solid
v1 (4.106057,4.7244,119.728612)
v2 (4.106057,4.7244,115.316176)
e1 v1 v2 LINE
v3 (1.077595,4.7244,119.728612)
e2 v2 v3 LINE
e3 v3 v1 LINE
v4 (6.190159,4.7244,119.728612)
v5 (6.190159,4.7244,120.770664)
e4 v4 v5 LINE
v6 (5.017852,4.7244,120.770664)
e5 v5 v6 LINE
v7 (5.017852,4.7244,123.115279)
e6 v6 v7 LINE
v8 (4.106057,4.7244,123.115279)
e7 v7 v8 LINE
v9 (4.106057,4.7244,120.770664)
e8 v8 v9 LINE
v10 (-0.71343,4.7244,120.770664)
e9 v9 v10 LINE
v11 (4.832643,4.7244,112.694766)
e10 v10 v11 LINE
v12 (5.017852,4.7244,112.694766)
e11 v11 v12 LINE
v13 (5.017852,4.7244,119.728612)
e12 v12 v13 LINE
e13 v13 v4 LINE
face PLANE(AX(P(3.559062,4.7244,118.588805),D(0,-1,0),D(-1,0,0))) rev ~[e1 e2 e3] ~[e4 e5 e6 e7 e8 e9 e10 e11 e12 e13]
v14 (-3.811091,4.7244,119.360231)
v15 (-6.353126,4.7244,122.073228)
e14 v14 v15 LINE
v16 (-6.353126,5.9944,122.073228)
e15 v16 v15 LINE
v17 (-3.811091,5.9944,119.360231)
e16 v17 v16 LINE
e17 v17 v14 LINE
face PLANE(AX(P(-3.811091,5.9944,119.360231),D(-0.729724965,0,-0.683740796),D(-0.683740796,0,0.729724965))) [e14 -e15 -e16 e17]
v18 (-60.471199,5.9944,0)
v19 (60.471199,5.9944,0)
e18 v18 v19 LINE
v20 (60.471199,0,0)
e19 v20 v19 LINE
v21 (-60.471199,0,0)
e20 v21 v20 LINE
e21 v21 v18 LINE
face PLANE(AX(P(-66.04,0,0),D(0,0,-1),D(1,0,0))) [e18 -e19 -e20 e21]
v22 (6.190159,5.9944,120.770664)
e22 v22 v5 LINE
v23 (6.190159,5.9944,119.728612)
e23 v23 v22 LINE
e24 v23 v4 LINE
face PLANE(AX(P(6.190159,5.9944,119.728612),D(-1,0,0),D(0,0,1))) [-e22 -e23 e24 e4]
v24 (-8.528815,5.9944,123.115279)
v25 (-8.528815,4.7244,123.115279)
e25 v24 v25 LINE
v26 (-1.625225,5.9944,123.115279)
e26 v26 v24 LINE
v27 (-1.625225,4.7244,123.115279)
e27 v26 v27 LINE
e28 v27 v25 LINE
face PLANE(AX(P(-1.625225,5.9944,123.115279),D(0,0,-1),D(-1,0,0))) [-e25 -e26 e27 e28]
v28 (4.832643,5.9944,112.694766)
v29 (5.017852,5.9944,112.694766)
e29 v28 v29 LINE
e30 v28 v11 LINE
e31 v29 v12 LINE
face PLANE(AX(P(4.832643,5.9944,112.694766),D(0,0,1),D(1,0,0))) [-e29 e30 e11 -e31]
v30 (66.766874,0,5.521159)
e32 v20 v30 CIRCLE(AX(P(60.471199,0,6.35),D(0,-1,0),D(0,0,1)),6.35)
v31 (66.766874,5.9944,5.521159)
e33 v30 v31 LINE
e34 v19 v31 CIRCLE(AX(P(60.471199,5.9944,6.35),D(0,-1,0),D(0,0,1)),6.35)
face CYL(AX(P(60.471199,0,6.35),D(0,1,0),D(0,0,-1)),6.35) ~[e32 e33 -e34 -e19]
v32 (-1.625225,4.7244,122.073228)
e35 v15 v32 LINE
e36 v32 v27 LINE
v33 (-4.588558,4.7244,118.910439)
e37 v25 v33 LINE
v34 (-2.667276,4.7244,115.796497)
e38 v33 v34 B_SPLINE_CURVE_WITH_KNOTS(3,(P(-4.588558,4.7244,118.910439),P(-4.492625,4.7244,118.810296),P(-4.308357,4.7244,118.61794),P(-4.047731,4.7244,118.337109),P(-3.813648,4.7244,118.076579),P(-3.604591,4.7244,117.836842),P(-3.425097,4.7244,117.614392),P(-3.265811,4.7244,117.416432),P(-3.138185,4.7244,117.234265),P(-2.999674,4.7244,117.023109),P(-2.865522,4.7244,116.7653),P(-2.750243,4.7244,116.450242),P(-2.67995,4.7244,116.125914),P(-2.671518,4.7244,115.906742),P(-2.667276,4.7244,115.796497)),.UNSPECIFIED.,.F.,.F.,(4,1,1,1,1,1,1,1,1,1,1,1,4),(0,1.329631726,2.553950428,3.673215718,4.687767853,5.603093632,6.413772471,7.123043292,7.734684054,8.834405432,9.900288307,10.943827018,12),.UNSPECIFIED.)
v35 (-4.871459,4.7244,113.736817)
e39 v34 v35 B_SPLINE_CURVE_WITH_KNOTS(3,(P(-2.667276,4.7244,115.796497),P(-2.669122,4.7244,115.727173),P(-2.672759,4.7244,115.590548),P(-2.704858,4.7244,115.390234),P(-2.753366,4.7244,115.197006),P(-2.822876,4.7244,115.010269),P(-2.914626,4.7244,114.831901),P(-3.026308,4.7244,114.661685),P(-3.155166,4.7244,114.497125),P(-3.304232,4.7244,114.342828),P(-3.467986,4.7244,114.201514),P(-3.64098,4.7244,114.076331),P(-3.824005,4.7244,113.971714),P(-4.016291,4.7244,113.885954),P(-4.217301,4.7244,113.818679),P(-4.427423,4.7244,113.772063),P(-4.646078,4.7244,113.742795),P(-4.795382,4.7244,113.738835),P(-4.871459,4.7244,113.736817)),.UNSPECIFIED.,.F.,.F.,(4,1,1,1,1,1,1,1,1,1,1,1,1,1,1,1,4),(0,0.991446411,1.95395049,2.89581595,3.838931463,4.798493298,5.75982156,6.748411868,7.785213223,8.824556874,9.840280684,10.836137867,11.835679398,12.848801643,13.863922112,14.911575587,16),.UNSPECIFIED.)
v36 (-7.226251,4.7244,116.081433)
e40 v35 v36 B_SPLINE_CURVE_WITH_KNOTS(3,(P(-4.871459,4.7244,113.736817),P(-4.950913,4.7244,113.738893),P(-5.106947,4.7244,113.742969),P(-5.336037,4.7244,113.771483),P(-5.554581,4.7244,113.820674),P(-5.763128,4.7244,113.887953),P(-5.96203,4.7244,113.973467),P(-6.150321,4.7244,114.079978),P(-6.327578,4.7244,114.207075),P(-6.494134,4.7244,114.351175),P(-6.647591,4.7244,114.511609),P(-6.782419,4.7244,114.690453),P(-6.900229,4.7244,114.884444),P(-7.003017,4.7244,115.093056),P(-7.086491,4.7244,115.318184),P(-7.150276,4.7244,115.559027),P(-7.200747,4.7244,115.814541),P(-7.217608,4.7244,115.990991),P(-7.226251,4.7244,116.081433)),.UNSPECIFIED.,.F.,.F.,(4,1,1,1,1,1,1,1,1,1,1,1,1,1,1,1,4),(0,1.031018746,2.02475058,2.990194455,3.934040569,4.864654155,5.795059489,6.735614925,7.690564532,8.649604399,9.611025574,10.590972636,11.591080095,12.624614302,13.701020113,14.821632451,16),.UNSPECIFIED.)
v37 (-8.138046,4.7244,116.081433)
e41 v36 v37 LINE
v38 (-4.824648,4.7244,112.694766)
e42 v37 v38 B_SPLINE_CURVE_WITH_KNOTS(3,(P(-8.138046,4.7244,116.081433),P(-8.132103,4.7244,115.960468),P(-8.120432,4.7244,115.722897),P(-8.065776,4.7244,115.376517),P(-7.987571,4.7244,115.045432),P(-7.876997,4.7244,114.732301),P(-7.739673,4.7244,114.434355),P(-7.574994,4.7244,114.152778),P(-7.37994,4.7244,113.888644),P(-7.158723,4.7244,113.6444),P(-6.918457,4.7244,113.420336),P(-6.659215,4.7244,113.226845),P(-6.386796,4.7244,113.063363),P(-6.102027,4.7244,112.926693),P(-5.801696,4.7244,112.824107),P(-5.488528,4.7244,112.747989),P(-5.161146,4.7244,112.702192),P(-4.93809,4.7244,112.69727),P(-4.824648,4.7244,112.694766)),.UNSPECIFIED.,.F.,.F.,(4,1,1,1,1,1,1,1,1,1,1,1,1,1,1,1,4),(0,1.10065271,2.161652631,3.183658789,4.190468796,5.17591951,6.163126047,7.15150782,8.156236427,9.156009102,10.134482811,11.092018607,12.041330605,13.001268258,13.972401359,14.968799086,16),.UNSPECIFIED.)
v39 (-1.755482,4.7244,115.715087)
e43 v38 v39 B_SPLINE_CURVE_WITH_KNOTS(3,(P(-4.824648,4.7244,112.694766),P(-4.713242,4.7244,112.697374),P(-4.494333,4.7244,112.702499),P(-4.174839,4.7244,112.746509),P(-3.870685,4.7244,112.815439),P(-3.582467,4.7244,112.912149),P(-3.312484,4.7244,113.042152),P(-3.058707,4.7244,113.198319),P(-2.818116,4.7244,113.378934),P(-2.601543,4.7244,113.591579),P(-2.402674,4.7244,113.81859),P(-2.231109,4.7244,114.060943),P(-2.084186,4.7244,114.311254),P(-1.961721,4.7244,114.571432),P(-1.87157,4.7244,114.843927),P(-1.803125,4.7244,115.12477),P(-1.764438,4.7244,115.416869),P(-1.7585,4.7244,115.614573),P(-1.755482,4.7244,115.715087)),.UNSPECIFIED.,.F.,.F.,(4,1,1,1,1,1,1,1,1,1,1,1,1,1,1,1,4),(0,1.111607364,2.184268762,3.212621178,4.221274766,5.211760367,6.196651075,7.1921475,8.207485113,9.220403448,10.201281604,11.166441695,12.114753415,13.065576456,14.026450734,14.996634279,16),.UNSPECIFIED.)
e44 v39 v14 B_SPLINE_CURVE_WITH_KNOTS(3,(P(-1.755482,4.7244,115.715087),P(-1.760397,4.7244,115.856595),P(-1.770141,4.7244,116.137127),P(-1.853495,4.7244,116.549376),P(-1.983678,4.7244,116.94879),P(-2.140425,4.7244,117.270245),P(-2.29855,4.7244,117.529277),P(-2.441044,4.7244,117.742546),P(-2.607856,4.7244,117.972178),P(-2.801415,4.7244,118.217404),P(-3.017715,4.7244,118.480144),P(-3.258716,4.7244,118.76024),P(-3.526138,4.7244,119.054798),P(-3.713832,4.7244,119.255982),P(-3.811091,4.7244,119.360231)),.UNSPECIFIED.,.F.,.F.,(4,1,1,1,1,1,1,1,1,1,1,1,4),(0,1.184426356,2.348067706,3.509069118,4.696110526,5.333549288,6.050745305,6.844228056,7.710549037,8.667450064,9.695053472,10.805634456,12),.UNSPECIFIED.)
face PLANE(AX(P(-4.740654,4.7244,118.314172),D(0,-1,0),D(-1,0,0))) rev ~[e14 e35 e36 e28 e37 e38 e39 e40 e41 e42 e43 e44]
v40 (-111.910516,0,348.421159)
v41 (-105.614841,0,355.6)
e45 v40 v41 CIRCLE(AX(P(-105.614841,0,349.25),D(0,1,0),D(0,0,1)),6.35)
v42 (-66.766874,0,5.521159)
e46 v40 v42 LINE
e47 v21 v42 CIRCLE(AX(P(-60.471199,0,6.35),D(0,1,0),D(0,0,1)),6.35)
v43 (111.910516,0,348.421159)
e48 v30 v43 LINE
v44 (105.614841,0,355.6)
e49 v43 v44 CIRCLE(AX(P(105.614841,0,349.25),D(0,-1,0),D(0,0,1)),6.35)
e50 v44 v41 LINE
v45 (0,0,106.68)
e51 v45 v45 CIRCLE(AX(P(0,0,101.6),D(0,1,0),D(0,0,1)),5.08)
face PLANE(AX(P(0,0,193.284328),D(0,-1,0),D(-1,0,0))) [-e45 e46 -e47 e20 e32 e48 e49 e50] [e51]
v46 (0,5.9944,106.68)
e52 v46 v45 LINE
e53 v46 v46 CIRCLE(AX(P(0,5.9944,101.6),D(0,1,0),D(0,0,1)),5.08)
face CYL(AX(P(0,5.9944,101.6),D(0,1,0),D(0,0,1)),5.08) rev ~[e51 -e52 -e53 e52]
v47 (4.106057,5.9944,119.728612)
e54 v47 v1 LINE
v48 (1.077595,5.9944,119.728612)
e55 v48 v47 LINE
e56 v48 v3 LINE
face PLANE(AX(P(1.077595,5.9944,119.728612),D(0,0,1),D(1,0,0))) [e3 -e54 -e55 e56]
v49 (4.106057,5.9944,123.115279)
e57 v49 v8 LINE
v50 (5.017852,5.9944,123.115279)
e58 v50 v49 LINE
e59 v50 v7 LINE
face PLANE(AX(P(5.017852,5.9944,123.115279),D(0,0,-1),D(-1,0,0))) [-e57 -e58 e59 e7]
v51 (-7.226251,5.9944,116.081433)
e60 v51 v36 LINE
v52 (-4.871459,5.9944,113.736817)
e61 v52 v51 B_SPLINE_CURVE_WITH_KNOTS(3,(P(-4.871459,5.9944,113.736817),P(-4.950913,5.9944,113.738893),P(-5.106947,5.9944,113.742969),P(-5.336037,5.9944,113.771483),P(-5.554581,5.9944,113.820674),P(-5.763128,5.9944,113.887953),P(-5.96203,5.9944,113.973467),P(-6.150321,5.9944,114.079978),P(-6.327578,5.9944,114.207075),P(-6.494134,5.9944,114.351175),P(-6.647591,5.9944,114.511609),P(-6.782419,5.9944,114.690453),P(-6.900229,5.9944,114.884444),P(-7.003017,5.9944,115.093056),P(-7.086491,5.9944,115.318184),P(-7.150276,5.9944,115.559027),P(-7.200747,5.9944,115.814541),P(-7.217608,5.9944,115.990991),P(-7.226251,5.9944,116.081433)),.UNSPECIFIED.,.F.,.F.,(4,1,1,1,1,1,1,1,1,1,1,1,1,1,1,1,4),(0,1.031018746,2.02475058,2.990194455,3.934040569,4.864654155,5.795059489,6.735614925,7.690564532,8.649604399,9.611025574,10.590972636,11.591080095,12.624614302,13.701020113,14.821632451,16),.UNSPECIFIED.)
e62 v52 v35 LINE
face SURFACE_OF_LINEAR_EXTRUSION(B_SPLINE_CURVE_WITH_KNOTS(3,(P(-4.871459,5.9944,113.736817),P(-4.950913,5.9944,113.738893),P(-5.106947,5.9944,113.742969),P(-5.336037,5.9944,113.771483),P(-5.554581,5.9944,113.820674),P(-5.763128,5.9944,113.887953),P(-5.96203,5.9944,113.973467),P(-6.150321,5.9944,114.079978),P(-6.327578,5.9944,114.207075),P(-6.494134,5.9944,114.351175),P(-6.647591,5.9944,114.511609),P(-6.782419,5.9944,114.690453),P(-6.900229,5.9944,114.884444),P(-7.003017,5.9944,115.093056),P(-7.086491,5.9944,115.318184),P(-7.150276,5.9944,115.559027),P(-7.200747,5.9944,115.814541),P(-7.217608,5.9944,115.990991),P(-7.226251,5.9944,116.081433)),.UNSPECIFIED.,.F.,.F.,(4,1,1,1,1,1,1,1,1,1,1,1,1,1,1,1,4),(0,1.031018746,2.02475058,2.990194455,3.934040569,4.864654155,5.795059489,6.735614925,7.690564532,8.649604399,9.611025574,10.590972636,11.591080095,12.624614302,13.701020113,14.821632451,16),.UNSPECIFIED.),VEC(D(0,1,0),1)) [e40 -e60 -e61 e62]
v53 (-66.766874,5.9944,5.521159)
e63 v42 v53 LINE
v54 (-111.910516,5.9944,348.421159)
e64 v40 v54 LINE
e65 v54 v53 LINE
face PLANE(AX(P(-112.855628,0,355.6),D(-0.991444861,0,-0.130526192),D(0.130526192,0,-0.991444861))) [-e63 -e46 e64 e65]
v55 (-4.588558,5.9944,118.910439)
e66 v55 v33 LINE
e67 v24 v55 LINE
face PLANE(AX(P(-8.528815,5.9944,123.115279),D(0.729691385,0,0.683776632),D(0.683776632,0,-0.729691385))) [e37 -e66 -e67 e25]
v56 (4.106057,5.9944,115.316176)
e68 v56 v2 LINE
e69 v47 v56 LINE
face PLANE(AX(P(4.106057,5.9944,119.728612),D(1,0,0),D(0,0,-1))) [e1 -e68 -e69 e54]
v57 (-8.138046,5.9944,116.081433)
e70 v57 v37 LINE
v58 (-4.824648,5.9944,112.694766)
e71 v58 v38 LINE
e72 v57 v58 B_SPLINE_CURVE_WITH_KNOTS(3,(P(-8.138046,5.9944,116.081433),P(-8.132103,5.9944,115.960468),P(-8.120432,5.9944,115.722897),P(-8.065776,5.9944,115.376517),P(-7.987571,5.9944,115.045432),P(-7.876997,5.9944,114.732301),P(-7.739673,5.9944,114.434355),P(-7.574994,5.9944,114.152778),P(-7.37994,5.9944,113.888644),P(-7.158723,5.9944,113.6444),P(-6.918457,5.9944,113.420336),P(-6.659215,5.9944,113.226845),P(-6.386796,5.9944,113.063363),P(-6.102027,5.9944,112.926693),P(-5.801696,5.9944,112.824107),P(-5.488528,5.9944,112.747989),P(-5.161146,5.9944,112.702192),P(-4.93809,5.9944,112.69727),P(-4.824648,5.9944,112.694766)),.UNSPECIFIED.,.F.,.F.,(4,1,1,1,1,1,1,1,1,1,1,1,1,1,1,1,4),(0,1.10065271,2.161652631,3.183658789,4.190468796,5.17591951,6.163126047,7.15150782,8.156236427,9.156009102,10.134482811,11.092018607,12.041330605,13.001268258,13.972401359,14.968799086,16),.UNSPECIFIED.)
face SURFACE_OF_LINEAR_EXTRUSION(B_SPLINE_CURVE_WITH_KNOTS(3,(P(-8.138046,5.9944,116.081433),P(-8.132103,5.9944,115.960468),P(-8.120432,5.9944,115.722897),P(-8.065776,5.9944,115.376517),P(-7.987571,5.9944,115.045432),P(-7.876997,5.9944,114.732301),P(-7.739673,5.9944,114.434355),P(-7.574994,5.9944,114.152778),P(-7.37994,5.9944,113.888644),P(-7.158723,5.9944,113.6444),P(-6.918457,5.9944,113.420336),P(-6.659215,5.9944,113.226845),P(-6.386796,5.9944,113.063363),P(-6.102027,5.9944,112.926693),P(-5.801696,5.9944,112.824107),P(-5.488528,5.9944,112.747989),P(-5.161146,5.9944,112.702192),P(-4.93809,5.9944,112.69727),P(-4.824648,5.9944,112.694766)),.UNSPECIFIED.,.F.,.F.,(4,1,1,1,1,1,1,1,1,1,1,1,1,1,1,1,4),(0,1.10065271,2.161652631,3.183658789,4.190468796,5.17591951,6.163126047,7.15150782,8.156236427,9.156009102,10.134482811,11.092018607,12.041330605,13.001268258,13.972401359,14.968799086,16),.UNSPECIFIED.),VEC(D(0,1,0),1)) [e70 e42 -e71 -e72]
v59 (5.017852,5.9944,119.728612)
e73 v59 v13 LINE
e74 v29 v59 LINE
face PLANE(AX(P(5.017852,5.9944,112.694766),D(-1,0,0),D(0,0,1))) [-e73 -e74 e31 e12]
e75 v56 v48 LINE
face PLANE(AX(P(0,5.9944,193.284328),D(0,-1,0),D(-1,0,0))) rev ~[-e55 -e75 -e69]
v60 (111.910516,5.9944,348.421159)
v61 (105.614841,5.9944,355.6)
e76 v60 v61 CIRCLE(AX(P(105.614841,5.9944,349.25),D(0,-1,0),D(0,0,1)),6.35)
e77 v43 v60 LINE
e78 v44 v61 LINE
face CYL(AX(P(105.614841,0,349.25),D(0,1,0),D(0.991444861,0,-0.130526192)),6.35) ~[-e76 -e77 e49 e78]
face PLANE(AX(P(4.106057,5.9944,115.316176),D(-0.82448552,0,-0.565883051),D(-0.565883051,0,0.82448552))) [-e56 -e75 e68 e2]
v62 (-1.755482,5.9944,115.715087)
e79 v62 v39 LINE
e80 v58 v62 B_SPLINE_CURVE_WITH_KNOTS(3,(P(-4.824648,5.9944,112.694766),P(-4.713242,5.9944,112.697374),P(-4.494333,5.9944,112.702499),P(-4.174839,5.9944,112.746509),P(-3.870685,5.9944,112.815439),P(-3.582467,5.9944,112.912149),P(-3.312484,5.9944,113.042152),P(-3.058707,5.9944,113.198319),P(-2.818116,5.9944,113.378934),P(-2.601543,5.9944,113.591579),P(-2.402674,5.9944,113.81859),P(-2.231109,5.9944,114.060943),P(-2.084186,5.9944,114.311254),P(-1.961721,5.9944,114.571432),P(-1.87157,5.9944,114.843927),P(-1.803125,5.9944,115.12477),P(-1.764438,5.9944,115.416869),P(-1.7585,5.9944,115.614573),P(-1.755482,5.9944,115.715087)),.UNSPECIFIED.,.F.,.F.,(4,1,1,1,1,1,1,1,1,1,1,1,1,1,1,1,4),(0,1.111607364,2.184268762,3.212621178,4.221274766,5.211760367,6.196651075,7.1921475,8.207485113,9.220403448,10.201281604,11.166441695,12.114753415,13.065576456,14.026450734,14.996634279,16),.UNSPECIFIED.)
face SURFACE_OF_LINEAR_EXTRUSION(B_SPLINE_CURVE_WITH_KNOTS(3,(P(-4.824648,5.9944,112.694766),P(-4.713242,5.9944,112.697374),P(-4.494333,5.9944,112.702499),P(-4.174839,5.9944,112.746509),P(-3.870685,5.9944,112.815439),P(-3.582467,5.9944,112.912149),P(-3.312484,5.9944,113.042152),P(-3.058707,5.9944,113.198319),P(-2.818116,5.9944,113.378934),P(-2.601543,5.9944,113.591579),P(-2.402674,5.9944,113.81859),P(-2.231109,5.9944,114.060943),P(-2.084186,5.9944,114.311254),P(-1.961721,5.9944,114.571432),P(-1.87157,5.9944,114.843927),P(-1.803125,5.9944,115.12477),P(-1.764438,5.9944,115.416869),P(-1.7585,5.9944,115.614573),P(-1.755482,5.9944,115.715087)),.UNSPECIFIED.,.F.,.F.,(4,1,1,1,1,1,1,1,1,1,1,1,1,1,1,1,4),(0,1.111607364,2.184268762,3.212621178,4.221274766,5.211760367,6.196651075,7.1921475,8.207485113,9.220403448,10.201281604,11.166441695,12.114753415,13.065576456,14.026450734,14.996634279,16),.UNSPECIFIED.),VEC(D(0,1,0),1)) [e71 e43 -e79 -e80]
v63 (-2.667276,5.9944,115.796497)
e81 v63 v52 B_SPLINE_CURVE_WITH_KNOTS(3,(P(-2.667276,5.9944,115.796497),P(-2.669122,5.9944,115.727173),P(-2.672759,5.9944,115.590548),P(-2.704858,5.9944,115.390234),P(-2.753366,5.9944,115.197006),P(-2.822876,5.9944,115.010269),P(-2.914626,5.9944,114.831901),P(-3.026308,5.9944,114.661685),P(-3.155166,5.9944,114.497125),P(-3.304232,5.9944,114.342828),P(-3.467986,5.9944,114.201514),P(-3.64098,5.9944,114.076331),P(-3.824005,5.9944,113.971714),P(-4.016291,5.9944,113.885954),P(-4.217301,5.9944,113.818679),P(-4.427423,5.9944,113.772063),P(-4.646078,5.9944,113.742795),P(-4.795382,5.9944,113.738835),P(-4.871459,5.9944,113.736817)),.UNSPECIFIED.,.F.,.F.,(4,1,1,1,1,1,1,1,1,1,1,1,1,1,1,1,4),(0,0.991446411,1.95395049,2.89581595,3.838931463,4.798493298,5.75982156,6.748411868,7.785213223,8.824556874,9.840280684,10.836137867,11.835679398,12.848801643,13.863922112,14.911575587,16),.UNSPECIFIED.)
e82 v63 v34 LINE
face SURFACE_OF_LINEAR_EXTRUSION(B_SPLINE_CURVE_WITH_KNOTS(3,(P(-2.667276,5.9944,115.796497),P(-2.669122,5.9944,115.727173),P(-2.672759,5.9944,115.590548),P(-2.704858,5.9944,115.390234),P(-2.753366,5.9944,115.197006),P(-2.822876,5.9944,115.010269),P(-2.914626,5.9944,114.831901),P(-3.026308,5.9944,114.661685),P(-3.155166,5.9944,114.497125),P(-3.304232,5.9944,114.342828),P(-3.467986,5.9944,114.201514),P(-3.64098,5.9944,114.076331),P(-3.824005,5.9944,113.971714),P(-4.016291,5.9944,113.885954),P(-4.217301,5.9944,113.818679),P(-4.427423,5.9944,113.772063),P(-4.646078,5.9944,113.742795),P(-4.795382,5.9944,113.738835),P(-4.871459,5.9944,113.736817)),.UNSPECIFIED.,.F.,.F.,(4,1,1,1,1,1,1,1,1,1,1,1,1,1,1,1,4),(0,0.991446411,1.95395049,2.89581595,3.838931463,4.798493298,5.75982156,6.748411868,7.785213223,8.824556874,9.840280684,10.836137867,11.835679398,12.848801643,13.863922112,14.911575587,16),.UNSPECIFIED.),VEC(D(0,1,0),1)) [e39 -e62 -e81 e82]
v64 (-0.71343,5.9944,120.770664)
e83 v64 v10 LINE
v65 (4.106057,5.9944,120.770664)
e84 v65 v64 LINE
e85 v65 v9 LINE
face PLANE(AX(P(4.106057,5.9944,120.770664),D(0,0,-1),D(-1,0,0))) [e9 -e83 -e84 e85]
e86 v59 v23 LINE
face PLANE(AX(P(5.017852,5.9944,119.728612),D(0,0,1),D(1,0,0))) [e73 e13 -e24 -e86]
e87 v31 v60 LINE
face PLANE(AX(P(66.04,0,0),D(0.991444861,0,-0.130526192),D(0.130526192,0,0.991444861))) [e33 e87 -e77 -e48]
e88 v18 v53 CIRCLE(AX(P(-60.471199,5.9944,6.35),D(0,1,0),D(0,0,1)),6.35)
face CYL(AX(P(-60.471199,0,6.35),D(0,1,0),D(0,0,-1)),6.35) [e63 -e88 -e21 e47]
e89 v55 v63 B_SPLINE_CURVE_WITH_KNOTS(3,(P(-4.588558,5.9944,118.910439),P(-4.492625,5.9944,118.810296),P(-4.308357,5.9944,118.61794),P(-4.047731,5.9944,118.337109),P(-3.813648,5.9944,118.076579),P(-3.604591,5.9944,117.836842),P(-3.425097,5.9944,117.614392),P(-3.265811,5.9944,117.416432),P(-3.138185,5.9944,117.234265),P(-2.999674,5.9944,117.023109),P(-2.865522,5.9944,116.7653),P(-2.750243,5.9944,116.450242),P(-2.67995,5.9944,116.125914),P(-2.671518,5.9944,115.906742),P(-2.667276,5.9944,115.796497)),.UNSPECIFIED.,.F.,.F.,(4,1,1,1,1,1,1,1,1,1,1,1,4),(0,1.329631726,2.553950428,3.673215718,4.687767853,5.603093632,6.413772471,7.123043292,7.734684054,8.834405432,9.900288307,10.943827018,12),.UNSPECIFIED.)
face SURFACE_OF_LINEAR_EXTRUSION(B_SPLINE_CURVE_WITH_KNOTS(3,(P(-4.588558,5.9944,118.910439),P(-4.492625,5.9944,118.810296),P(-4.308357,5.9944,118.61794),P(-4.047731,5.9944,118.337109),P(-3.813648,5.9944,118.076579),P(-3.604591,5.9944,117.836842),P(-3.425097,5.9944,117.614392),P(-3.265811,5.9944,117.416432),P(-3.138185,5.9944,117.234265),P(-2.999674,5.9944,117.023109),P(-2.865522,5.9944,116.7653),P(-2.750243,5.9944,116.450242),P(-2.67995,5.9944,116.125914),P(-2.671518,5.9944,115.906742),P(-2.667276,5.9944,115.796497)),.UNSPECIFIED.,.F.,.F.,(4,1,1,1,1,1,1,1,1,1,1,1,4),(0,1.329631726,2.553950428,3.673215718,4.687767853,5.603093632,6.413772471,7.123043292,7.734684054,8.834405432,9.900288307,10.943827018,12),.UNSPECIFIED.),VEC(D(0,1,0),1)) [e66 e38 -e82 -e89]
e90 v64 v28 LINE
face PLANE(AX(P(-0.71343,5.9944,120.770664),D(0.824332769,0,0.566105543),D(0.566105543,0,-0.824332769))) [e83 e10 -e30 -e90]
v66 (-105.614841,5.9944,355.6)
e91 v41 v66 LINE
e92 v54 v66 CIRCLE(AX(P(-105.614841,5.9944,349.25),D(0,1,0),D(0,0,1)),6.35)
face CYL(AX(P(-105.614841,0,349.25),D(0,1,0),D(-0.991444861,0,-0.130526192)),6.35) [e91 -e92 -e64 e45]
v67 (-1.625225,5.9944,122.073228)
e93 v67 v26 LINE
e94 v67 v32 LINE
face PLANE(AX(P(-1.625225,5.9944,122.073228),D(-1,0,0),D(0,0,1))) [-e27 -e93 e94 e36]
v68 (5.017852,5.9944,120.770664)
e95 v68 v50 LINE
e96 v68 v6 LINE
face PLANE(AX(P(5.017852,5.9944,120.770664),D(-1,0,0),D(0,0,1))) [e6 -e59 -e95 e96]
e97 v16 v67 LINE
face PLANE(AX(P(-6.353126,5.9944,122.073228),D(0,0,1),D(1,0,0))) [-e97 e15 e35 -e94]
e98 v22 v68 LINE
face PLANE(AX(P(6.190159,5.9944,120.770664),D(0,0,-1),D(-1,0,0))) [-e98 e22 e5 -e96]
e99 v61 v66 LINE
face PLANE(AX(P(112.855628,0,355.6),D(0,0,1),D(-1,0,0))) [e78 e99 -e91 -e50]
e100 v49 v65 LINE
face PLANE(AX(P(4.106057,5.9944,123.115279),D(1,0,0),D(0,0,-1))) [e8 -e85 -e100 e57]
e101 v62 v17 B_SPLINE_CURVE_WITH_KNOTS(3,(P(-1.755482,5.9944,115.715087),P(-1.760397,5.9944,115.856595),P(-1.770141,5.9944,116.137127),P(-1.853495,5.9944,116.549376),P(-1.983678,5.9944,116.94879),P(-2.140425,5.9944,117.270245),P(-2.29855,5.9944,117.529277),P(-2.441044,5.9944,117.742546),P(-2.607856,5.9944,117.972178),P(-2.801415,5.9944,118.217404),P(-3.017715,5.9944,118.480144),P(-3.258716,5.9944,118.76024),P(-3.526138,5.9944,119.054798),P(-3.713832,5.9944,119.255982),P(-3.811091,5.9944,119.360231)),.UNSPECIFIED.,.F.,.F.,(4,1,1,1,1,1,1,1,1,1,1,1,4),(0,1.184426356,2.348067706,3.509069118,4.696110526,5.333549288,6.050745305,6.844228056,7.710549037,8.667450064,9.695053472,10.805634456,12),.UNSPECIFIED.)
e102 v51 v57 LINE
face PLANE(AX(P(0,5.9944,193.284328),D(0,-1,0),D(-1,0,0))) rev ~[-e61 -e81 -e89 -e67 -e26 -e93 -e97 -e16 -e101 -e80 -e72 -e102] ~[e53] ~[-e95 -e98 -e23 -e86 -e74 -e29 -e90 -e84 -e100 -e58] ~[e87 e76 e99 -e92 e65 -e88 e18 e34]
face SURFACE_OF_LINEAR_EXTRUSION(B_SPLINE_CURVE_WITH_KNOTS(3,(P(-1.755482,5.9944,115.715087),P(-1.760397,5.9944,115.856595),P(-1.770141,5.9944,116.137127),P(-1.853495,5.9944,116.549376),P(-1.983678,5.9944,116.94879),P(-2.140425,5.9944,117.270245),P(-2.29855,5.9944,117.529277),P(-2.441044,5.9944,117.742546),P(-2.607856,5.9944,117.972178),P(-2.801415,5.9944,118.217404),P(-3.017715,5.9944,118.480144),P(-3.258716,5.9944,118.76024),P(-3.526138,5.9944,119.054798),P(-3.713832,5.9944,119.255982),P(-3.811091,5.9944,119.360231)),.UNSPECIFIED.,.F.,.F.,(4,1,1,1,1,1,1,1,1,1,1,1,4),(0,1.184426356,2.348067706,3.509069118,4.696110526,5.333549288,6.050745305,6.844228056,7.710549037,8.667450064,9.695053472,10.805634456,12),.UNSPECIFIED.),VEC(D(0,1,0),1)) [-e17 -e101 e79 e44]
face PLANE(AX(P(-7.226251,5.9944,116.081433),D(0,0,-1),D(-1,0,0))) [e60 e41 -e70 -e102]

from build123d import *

# Parameters (mm, degrees)
BOSS_EXTRUDE1_DEPTH = 5.9944
SKETCH2_R           = 5.08
CUT_EXTRUDE1_DEPTH  = 374.126902856
CUT_EXTRUDE2_DEPTH  = 1.27
FILLET1_R           = 6.35


with BuildPart() as part:
    # Sketch1 → Boss-Extrude1 (new body)
    with BuildSketch(Plane(origin=(0, 0, 0), x_dir=(1, 0, 0), z_dir=(0, 1, 0))):
        Polygon((-66.04, 0), (66.04, 0), (112.855628142, -355.6), (-112.855628142, -355.6), align=None)
    extrude(amount=BOSS_EXTRUDE1_DEPTH)

    # Sketch2 → Cut-Extrude1 (cut, through all)
    with BuildSketch(Plane(origin=(0, 5.9944, 0), x_dir=(1, 0, 0), z_dir=(0, 1, 0))):
        with Locations(Location((0, -101.6, 0), (0, 0, 270))):
            Circle(SKETCH2_R)
    extrude(amount=-CUT_EXTRUDE1_DEPTH, mode=Mode.SUBTRACT)

    # Sketch3 → Cut-Extrude2 (cut)
    # profile 1 of 2: a face of its own
    with BuildSketch(Plane(origin=(0, 5.9944, 0), x_dir=(1, 0, 0), z_dir=(0, 1, 0))):
        with BuildLine():
            Line((-7.226250791, -116.081432875), (-8.138045663, -116.081432875))
            add(Edge.make_bspline(
                [(-8.138045663, -116.081432875), (-8.13210307, -115.960468241), (-8.120431976, -115.722896918), (-8.065776142, -115.376516664), (-7.987570625, -115.045431877), (-7.876996575, -114.732300927), (-7.739673209, -114.434355132), (-7.574994044, -114.152777944), (-7.379939895, -113.888643522), (-7.158722633, -113.644400479), (-6.918457097, -113.420335988), (-6.659214713, -113.22684534), (-6.386796005, -113.063363186), (-6.102027464, -112.926693067), (-5.801696228, -112.824106543), (-5.488527704, -112.747988869), (-5.161145982, -112.702192391), (-4.938090375, -112.697269768), (-4.824648227, -112.694766208)],
                knots=[0, 0, 0, 0, 1.10065271, 2.161652631, 3.183658789, 4.190468796, 5.17591951, 6.163126047, 7.15150782, 8.156236427, 9.156009102, 10.134482811, 11.092018607, 12.041330605, 13.001268258, 13.972401359, 14.968799086, 16, 16, 16, 16], degree=3))
            add(Edge.make_bspline(
                [(-4.824648227, -112.694766208), (-4.713242161, -112.697374299), (-4.49433322, -112.702499104), (-4.174838915, -112.746509406), (-3.870685397, -112.815439466), (-3.582467195, -112.91214936), (-3.312483876, -113.042152155), (-3.058707267, -113.198318725), (-2.818116113, -113.378934007), (-2.601543278, -113.591579362), (-2.402674111, -113.818589713), (-2.231108708, -114.06094317), (-2.084185925, -114.311254468), (-1.961721117, -114.571432333), (-1.871569582, -114.843926518), (-1.803125412, -115.124769827), (-1.764437834, -115.416869279), (-1.758500262, -115.61457288), (-1.755481561, -115.715086721)],
                knots=[0, 0, 0, 0, 1.111607364, 2.184268762, 3.212621178, 4.221274766, 5.211760367, 6.196651075, 7.1921475, 8.207485113, 9.220403448, 10.201281604, 11.166441695, 12.114753415, 13.065576456, 14.026450734, 14.996634279, 16, 16, 16, 16], degree=3))
            add(Edge.make_bspline(
                [(-1.755481561, -115.715086721), (-1.760396861, -115.856594721), (-1.770141205, -116.137127455), (-1.853494938, -116.549376314), (-1.983677953, -116.948790353), (-2.140424566, -117.270244922), (-2.298550289, -117.529277006), (-2.441044311, -117.742546161), (-2.607856448, -117.972178035), (-2.801414602, -118.217403677), (-3.017714826, -118.480143905), (-3.258716305, -118.760239997), (-3.526137613, -119.054798048), (-3.713832004, -119.255982308), (-3.811090535, -119.360230952)],
                knots=[0, 0, 0, 0, 1.184426356, 2.348067706, 3.509069118, 4.696110526, 5.333549288, 6.050745305, 6.844228056, 7.710549037, 8.667450064, 9.695053472, 10.805634456, 12, 12, 12, 12], degree=3))
            Line((-3.811090535, -119.360230952), (-6.353125791, -122.073227747))
            Line((-6.353125791, -122.073227747), (-1.62522515, -122.073227747))
            Line((-1.62522515, -122.073227747), (-1.62522515, -123.115279029))
            Line((-1.62522515, -123.115279029), (-8.528814894, -123.115279029))
            Line((-8.528814894, -123.115279029), (-4.588558484, -118.910439285))
            add(Edge.make_bspline(
                [(-4.588558484, -118.910439285), (-4.492625189, -118.810295629), (-4.308356964, -118.617940162), (-4.04773097, -118.337109169), (-3.813647507, -118.076579074), (-3.604591304, -117.836842122), (-3.425097471, -117.614391628), (-3.265811221, -117.416432145), (-3.138185391, -117.234264941), (-2.999674414, -117.02310933), (-2.865521828, -116.765299861), (-2.750242531, -116.450242066), (-2.679950285, -116.125913812), (-2.671517963, -115.906742185), (-2.667276432, -115.796496977)],
                knots=[0, 0, 0, 0, 1.329631726, 2.553950428, 3.673215718, 4.687767853, 5.603093632, 6.413772471, 7.123043292, 7.734684054, 8.834405432, 9.900288307, 10.943827018, 12, 12, 12, 12], degree=3))
            add(Edge.make_bspline(
                [(-2.667276432, -115.796496977), (-2.669121901, -115.727172689), (-2.672758967, -115.59054783), (-2.704857883, -115.39023397), (-2.753366095, -115.197005824), (-2.822875758, -115.010269033), (-2.914625609, -114.831901083), (-3.026308335, -114.661684855), (-3.155166348, -114.497124887), (-3.304231747, -114.342828456), (-3.46798633, -114.201513871), (-3.640979923, -114.076330812), (-3.824005368, -113.971714421), (-4.01629098, -113.88595387), (-4.217300686, -113.818679049), (-4.42742326, -113.772063287), (-4.646078119, -113.742795276), (-4.795382209, -113.73883528), (-4.871459125, -113.73681749)],
                knots=[0, 0, 0, 0, 0.991446411, 1.95395049, 2.89581595, 3.838931463, 4.798493298, 5.75982156, 6.748411868, 7.785213223, 8.824556874, 9.840280684, 10.836137867, 11.835679398, 12.848801643, 13.863922112, 14.911575587, 16, 16, 16, 16], degree=3))
            add(Edge.make_bspline(
                [(-4.871459125, -113.73681749), (-4.950912742, -113.738893127), (-5.106946528, -113.742969334), (-5.336037206, -113.771483124), (-5.554581063, -113.820674478), (-5.763127844, -113.887953053), (-5.962030413, -113.973467012), (-6.150321467, -114.079977905), (-6.327578311, -114.207075131), (-6.494134162, -114.351174574), (-6.647590741, -114.511608525), (-6.782419386, -114.690453447), (-6.900228982, -114.884443887), (-7.003016928, -115.093056411), (-7.086490588, -115.318183955), (-7.150275505, -115.559027349), (-7.200747037, -115.814540845), (-7.217608343, -115.990991263), (-7.226250791, -116.081432875)],
                knots=[0, 0, 0, 0, 1.031018746, 2.02475058, 2.990194455, 3.934040569, 4.864654155, 5.795059489, 6.735614925, 7.690564532, 8.649604399, 9.611025574, 10.590972636, 11.591080095, 12.624614302, 13.701020113, 14.821632451, 16, 16, 16, 16], degree=3))
        make_face()
    # profile 2 of 2: a face of its own
    with BuildSketch(Plane(origin=(0, 5.9944, 0), x_dir=(1, 0, 0), z_dir=(0, 1, 0))):
        Polygon((4.832643439, -112.694766208), (5.017851773, -112.694766208), (5.017851773, -119.728612362), (6.190159465, -119.728612362), (6.190159465, -120.770663644), (5.017851773, -120.770663644), (5.017851773, -123.115279029), (4.106056901, -123.115279029), (4.106056901, -120.770663644), (-0.713430279, -120.770663644), align=None)
        Polygon((4.106056901, -119.728612362), (4.106056901, -115.316176465), (1.077595362, -119.728612362), align=None, mode=Mode.SUBTRACT)
    extrude(amount=-CUT_EXTRUDE2_DEPTH, mode=Mode.SUBTRACT)

    # Fillet1
    fillet1_edges = [part.edges().sort_by_distance(p)[0] for p in [
        (112.855628142, 2.9972, 355.6),
        (-112.855628142, 2.9972, 355.6),
        (-66.04, 2.9972, 0),
        (66.04, 2.9972, 0),
    ]]
    fillet(fillet1_edges, radius=FILLET1_R)


solid = part.part
